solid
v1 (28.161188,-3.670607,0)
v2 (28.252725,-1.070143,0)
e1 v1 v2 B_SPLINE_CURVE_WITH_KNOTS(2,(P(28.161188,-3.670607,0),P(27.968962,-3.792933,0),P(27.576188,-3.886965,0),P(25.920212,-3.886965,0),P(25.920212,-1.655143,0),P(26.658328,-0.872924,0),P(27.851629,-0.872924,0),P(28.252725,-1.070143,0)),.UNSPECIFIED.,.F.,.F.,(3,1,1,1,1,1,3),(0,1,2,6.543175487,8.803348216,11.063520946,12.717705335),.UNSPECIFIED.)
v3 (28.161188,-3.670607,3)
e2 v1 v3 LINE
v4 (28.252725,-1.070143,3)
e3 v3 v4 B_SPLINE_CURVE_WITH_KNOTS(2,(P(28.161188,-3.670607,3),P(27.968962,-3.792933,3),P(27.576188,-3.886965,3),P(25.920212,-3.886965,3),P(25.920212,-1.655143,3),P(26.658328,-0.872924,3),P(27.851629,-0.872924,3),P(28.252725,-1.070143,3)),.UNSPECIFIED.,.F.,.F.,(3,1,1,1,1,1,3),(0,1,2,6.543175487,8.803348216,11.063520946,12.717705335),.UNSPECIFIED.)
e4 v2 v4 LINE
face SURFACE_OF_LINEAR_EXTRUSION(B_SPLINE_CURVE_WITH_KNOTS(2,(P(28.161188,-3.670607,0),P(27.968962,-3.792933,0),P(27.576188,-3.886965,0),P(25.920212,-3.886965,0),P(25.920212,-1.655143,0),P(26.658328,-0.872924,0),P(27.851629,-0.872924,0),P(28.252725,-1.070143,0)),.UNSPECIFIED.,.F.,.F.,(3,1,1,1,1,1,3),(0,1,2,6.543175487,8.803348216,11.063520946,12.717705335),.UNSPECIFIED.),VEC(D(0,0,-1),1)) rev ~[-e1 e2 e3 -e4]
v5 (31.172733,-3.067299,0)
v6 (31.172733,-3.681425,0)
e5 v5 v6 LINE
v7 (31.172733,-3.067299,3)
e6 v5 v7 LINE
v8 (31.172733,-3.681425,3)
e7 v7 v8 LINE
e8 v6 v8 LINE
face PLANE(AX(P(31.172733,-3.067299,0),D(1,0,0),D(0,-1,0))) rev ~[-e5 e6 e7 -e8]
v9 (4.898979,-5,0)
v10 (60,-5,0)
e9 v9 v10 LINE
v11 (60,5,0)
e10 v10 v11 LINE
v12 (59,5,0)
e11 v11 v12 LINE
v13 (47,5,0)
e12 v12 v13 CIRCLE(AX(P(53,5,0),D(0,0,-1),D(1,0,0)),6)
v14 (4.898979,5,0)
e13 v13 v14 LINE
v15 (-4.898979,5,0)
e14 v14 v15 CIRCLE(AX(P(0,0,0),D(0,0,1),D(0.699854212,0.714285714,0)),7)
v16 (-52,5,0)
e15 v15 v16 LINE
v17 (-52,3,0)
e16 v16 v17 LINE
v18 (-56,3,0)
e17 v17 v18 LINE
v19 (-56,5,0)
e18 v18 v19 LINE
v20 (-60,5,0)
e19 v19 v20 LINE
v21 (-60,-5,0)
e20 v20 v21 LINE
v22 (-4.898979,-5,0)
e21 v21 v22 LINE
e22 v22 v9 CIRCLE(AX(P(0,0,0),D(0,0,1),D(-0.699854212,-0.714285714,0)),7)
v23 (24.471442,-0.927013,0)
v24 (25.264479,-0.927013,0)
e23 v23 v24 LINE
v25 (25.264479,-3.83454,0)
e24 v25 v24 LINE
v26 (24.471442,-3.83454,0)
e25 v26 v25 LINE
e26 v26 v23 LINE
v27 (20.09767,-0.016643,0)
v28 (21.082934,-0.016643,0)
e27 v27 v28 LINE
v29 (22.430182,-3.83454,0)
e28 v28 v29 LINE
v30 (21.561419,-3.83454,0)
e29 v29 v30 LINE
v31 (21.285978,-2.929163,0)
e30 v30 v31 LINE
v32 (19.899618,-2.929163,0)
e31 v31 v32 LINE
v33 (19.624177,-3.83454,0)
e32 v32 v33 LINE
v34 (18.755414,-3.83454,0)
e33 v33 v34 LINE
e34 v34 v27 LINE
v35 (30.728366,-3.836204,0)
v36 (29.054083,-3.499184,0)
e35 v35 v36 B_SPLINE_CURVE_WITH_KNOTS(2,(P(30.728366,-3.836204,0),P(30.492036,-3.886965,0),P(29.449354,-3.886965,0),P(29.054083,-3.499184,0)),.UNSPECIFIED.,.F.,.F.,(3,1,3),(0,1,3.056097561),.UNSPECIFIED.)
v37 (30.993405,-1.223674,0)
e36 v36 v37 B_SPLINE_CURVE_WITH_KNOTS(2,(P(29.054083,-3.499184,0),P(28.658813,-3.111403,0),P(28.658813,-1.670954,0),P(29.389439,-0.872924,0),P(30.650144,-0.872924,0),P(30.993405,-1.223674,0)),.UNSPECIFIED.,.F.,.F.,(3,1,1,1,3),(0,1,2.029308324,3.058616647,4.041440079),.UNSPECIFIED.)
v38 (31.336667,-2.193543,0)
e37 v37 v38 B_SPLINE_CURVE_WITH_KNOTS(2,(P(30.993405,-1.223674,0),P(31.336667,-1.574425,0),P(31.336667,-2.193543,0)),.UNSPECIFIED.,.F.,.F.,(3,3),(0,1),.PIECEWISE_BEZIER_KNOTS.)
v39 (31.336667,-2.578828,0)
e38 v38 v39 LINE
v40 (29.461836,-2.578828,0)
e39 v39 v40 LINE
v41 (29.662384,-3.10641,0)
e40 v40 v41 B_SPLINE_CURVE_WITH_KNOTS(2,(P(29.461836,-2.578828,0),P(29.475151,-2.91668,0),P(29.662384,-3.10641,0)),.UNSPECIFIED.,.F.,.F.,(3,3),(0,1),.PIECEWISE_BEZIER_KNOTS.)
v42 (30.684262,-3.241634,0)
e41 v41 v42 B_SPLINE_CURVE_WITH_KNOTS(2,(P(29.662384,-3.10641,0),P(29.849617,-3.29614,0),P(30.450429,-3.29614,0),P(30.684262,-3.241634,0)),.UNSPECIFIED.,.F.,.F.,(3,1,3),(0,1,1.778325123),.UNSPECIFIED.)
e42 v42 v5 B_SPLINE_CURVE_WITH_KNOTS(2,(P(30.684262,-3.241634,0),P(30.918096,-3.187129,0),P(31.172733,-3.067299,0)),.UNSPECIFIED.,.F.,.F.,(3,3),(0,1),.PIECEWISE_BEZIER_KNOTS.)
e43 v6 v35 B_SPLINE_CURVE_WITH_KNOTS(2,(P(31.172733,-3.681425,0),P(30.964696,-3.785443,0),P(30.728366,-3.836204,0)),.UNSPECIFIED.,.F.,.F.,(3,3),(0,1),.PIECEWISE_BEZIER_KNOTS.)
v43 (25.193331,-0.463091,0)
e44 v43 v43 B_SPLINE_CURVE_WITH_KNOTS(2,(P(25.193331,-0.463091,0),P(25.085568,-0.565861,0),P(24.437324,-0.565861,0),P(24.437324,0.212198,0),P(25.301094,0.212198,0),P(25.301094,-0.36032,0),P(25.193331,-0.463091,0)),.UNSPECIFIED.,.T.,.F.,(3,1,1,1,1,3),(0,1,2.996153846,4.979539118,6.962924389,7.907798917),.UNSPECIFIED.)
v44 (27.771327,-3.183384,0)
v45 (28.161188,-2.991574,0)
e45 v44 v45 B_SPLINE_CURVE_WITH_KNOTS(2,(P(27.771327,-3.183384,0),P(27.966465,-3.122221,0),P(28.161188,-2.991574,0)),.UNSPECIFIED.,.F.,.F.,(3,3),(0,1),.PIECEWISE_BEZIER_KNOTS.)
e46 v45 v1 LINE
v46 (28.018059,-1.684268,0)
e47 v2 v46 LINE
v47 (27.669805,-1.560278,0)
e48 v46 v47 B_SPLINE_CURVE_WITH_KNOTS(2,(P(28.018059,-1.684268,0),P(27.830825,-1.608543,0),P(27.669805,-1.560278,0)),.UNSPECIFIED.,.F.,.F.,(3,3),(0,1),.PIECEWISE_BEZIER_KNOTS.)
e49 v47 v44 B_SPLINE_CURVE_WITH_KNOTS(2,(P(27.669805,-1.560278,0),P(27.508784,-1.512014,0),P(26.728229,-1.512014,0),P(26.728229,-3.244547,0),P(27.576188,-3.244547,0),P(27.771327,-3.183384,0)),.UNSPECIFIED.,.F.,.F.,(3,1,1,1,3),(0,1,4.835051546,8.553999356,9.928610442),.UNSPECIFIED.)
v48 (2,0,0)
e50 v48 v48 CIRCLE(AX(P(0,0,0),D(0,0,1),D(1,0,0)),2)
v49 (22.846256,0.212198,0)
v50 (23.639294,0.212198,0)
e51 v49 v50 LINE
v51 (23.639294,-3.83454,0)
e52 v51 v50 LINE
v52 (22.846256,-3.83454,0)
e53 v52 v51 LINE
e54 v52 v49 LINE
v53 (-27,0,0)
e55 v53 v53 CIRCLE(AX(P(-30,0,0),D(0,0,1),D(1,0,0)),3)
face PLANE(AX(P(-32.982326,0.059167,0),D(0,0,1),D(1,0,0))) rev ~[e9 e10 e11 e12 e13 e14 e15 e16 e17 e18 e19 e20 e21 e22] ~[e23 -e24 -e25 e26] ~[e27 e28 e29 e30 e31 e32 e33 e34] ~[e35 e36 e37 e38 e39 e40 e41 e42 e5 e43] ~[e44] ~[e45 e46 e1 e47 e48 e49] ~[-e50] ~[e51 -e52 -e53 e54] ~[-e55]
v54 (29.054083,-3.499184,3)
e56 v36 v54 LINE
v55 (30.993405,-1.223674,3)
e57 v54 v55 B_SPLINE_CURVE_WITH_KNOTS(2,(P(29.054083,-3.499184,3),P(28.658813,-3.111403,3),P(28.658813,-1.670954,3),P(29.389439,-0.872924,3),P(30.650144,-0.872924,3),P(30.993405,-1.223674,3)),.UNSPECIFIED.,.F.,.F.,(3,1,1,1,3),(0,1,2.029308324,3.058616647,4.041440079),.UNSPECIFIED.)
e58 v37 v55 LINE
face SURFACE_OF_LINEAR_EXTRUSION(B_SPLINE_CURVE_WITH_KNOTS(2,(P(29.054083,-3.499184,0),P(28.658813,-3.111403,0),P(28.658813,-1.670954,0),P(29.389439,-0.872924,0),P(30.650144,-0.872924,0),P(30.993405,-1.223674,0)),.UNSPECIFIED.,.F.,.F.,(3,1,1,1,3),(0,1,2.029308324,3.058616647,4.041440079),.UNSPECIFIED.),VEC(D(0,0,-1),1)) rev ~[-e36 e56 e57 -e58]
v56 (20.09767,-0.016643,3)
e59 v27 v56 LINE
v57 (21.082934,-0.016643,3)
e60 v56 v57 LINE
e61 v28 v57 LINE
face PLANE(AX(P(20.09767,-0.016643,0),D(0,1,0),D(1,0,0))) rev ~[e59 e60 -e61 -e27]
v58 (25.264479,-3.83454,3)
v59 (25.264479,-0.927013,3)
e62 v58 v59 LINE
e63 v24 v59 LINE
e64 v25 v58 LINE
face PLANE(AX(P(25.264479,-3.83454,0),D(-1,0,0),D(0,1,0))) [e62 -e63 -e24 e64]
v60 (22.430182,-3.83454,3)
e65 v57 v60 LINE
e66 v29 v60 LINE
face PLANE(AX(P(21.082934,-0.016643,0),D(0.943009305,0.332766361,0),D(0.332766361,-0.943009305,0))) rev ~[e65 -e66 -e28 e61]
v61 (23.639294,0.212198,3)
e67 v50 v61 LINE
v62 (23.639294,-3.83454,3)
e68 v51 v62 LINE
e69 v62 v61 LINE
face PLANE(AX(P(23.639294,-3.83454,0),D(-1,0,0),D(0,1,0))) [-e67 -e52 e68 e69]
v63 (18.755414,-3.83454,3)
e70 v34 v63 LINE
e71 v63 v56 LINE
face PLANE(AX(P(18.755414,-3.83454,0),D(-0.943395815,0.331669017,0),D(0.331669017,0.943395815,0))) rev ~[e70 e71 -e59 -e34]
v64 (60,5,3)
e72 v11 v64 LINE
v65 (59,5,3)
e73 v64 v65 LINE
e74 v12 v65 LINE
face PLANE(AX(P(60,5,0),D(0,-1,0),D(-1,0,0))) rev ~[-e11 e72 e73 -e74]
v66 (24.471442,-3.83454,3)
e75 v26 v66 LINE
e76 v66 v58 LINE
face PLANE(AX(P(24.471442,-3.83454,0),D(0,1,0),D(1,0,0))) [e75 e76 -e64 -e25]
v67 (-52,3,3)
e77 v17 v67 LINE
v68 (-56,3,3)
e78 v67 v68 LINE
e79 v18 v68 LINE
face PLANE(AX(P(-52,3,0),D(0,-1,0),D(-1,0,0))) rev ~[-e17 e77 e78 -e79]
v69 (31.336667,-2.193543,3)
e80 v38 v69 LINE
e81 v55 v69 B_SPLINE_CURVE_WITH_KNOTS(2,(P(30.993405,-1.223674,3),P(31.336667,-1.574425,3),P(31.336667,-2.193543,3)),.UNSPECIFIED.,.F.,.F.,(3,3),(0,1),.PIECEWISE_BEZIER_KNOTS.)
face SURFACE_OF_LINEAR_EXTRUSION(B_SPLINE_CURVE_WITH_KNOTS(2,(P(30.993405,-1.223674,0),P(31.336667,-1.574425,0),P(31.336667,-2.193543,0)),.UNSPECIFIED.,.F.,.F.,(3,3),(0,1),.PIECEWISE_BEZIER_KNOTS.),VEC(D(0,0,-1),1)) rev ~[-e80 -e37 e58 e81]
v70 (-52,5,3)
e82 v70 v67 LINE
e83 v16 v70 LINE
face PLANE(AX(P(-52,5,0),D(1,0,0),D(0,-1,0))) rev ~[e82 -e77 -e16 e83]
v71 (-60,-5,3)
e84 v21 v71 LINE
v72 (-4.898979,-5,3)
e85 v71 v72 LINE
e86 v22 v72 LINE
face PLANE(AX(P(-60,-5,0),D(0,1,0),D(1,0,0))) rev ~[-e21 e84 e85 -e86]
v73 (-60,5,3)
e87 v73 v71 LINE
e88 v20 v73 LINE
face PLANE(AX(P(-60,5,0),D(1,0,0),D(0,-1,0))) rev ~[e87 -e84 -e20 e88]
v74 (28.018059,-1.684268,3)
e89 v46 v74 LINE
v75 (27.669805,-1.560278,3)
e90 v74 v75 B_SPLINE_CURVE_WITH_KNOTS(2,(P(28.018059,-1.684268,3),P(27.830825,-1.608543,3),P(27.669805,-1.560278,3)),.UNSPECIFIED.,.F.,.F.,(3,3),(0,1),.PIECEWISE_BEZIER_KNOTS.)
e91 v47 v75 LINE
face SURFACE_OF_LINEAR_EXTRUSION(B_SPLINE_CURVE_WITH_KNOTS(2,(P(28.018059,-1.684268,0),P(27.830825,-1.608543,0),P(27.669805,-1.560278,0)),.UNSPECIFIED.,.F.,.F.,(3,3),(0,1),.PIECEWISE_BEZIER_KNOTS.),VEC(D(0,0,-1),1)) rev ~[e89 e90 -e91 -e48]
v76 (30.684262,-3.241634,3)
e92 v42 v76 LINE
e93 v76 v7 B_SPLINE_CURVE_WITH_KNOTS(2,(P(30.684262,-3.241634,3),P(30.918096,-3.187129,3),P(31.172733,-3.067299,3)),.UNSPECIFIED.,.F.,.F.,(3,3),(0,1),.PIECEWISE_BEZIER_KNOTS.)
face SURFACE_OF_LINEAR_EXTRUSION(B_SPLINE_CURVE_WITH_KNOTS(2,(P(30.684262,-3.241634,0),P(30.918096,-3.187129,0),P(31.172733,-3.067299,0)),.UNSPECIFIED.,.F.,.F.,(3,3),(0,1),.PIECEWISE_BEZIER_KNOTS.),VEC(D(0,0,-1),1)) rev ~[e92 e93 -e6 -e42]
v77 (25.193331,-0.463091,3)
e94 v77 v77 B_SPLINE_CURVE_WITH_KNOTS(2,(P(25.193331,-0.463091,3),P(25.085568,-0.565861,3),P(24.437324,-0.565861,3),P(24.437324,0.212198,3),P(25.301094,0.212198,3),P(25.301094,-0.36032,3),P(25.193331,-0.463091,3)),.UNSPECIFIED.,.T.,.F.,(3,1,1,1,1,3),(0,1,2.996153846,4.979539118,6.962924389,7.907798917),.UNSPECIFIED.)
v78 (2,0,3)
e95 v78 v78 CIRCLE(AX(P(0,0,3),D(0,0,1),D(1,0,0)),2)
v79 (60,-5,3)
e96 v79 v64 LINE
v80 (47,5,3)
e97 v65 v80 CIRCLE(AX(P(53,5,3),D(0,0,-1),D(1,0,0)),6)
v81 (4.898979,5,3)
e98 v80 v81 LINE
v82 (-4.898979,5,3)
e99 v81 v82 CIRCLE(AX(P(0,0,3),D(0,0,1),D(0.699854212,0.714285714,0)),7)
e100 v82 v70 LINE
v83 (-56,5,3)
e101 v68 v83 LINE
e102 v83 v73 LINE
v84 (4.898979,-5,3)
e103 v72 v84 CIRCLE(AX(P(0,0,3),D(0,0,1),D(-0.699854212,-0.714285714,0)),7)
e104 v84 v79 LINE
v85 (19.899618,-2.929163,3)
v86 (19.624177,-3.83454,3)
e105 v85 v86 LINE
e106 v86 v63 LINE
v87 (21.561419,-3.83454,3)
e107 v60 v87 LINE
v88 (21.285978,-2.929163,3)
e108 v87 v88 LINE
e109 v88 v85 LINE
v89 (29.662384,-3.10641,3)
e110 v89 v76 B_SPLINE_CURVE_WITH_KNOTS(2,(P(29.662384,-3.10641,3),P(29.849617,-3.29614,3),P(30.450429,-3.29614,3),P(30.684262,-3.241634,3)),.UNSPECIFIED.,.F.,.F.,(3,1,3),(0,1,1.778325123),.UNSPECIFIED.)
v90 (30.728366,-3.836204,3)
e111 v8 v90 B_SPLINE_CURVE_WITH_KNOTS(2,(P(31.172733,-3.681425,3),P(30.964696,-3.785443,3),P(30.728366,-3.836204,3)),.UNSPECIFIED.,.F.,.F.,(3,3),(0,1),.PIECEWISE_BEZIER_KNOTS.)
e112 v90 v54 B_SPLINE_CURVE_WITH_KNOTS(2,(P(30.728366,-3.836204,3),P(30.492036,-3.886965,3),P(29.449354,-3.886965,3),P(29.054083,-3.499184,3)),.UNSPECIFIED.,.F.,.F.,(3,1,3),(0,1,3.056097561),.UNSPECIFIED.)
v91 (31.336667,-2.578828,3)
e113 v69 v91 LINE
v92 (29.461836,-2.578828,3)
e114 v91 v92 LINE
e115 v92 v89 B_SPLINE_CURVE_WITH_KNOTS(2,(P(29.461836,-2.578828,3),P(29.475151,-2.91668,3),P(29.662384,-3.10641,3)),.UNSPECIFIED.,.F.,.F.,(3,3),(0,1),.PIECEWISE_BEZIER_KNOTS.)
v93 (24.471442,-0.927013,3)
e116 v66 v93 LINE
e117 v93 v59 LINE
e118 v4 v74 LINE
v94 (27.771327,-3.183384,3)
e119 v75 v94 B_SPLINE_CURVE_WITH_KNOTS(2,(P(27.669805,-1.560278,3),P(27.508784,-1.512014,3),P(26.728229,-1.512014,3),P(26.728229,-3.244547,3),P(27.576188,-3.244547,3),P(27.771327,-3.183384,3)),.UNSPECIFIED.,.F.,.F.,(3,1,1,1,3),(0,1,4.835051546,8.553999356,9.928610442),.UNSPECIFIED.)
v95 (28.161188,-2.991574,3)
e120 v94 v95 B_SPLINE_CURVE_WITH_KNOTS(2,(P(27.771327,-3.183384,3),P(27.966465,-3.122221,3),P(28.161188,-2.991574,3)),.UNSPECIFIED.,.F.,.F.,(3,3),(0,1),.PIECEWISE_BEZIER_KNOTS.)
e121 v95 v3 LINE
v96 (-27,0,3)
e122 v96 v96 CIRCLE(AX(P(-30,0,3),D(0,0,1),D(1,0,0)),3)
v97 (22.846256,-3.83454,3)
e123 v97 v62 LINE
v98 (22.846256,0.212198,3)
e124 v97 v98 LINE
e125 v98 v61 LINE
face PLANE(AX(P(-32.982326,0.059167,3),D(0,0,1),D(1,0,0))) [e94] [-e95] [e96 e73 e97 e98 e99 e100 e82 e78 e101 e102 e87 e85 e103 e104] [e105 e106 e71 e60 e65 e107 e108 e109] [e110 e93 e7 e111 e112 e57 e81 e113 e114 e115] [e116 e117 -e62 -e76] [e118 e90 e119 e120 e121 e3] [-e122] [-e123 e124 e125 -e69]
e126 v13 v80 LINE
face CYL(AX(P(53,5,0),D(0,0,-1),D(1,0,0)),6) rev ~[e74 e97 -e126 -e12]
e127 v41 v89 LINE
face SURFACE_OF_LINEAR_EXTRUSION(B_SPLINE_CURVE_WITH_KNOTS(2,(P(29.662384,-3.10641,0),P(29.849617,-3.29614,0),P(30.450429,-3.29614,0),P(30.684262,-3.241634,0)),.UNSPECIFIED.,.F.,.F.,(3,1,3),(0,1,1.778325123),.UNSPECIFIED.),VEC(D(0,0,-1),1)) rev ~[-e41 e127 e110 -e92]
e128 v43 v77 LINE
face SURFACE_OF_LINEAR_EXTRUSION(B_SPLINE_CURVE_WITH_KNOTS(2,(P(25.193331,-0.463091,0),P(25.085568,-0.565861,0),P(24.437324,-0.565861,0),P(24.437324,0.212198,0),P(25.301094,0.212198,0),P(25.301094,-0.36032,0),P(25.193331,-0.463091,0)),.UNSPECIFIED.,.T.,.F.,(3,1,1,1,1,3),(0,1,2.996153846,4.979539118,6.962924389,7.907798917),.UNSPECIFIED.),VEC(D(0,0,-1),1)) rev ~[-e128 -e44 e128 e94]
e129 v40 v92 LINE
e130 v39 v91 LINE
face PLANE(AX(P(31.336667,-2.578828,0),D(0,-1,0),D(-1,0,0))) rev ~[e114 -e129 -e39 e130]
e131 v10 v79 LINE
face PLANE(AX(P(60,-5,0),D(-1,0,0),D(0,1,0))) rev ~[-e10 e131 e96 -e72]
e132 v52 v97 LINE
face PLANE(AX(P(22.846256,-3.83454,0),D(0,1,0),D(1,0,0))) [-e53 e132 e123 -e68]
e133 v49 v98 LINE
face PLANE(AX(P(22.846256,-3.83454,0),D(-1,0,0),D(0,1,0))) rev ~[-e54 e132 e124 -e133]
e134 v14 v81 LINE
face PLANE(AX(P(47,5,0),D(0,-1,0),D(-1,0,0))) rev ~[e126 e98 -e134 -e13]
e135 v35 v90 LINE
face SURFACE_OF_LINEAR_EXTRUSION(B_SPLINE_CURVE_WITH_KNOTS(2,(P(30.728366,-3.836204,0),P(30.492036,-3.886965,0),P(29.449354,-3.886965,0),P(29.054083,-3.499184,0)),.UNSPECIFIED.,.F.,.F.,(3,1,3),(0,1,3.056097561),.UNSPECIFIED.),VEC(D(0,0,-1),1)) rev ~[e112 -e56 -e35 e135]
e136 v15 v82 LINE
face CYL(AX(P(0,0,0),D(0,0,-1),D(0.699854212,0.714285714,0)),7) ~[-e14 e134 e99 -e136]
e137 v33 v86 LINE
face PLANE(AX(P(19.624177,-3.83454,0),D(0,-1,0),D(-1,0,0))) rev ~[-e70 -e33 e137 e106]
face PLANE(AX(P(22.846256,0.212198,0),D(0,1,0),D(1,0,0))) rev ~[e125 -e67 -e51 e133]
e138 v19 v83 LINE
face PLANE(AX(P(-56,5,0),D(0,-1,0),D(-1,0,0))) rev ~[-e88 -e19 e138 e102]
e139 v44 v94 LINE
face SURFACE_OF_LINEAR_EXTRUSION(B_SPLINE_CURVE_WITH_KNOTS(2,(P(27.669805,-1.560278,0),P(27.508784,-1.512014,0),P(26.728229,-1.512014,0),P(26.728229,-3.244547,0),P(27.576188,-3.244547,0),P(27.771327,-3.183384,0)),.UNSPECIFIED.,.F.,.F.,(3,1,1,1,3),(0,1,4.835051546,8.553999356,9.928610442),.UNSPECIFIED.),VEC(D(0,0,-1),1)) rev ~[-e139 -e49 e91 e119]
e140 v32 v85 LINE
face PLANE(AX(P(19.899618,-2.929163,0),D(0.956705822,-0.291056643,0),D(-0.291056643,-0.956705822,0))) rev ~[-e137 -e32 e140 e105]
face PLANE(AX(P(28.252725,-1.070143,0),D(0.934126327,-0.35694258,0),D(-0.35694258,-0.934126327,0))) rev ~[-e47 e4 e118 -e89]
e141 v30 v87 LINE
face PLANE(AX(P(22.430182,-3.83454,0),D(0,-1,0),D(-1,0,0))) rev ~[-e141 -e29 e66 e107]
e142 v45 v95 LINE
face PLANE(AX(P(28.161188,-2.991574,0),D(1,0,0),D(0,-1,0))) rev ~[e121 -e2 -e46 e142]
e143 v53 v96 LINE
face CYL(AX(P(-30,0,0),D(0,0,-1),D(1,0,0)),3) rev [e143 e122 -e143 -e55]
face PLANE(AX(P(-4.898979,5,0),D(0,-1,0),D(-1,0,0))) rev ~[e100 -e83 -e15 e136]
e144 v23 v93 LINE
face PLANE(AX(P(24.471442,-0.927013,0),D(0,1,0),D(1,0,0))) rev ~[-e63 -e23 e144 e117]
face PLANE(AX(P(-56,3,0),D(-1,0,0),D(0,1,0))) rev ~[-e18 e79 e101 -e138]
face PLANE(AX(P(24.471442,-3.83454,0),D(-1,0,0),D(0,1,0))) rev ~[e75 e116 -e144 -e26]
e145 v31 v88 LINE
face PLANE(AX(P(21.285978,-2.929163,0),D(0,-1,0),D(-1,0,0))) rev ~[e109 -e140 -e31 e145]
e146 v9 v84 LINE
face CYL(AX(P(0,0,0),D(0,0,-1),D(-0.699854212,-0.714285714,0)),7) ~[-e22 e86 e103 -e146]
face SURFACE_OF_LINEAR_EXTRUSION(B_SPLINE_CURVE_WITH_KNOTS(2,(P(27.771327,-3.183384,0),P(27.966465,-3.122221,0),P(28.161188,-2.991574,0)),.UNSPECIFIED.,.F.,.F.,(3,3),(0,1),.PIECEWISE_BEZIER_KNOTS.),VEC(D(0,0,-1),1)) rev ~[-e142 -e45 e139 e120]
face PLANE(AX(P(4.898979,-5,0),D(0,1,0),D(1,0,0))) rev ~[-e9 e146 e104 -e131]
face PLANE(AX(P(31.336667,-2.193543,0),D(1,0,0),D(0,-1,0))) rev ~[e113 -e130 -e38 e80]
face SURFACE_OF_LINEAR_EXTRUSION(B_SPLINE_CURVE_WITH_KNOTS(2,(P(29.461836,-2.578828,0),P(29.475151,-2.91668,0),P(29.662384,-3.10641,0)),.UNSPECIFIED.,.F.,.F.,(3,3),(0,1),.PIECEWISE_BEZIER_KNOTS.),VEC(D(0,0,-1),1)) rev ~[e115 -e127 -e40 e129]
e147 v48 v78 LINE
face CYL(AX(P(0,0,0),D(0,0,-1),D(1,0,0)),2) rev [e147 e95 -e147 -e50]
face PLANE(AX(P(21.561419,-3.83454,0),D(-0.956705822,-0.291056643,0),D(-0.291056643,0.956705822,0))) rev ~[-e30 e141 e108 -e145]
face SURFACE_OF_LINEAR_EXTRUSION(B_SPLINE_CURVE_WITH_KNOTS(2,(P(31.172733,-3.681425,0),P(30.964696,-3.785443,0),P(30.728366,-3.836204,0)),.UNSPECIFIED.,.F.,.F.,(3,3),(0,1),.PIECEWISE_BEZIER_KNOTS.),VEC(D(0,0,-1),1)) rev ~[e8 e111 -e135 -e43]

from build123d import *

# Parameters (mm, degrees)
F0_R     = 3
F0_W     = 0.793037466
F0_H     = 2.9075266591
F0_H_2   = 4.0467378773
F0_R_2   = 2
F1_DEPTH = 3


with BuildPart() as f1:
    # F0 (on Top) → F1 (new body)
    with BuildSketch(Plane.XY):
        with BuildLine():
            Line((-60, 5), (-60, -5))
            Line((-60, -5), (-4.8989794856, -5))
            ThreePointArc((-4.8989794856, -5), (-7, 0), (-4.8989794856, 5))
            Line((-4.8989794856, 5), (-52, 5))
            Line((-52, 5), (-52, 3))
            Line((-52, 3), (-56, 3))
            Line((-56, 3), (-56, 5))
            Line((-56, 5), (-60, 5))
        make_face()
        with Locations((-30, 0)):
            Circle(F0_R, mode=Mode.SUBTRACT)
        with BuildLine():
            ThreePointArc((7, 0), (6.4534043883, -2.7117470016), (4.8989794856, -5))
            Line((4.8989794856, -5), (60, -5))
            Line((60, -5), (60, 5))
            Line((60, 5), (59, 5))
            ThreePointArc((59, 5), (53, -1), (47, 5))
            Line((47, 5), (4.8989794856, 5))
            ThreePointArc((4.8989794856, 5), (6.4534043883, 2.7117470016), (7, 0))
        make_face()
        Polygon((22.4301818638, -3.8345400244), (21.5614188895, -3.8345400244), (21.2859777549, -2.9291625186), (19.8996184492, -2.9291625186), (19.6241773147, -3.8345400244), (18.7554143404, -3.8345400244), (20.0976697786, -0.0166429689), (21.0829335349, -0.0166429689), align=None, mode=Mode.SUBTRACT)
        with Locations((24.8679607269, -2.3807766948)):
            Rectangle(F0_W, F0_H, mode=Mode.SUBTRACT)
        with BuildLine():
            add(Edge.make_bspline(
                [(27.7725748665, -3.8399489893), (27.576187834, -3.8869653763), (27.277446543, -3.8869653763)],
                knots=[0, 0, 0, 1, 1, 1], degree=2))
            add(Edge.make_bspline(
                [(27.277446543, -3.8869653763), (25.9202124328, -3.8869653763), (25.9202124328, -2.3965875152)],
                knots=[0, 0, 0, 1, 1, 1], degree=2))
            add(Edge.make_bspline(
                [(25.9202124328, -2.3965875152), (25.9202124328, -1.6551432527), (26.2892702672, -1.2640334846)],
                knots=[0, 0, 0, 1, 1, 1], degree=2))
            add(Edge.make_bspline(
                [(26.2892702672, -1.2640334846), (26.6583281016, -0.8729237165), (27.3473470122, -0.8729237165)],
                knots=[0, 0, 0, 1, 1, 1], degree=2))
            add(Edge.make_bspline(
                [(27.3473470122, -0.8729237165), (27.8516289686, -0.8729237165), (28.252724518, -1.0701428974)],
                knots=[0, 0, 0, 1, 1, 1], degree=2))
            Line((28.252724518, -1.0701428974), (28.0180586571, -1.6842684482))
            add(Edge.make_bspline(
                [(28.0180586571, -1.6842684482), (27.8308252575, -1.6085429399), (27.6698045338, -1.5602783302)],
                knots=[0, 0, 0, 1, 1, 1], degree=2))
            add(Edge.make_bspline(
                [(27.6698045338, -1.5602783302), (27.5087838101, -1.5120137206), (27.3473470122, -1.5120137206)],
                knots=[0, 0, 0, 1, 1, 1], degree=2))
            add(Edge.make_bspline(
                [(27.3473470122, -1.5120137206), (26.7282285708, -1.5120137206), (26.7282285708, -2.3915946246)],
                knots=[0, 0, 0, 1, 1, 1], degree=2))
            add(Edge.make_bspline(
                [(26.7282285708, -2.3915946246), (26.7282285708, -3.2445467785), (27.3473470122, -3.2445467785)],
                knots=[0, 0, 0, 1, 1, 1], degree=2))
            add(Edge.make_bspline(
                [(27.3473470122, -3.2445467785), (27.576187834, -3.2445467785), (27.7713266438, -3.1833838679)],
                knots=[0, 0, 0, 1, 1, 1], degree=2))
            add(Edge.make_bspline(
                [(27.7713266438, -3.1833838679), (27.9664654537, -3.1222209574), (28.1611881893, -2.9915736518)],
                knots=[0, 0, 0, 1, 1, 1], degree=2))
            Line((28.1611881893, -2.9915736518), (28.1611881893, -3.6706067812))
            add(Edge.make_bspline(
                [(28.1611881893, -3.6706067812), (27.968961899, -3.7929326023), (27.7725748665, -3.8399489893)],
                knots=[0, 0, 0, 1, 1, 1], degree=2))
        make_face(mode=Mode.SUBTRACT)
        with BuildLine():
            add(Edge.make_bspline(
                [(30.7283661353, -3.8362043213), (30.4920359776, -3.8869653763), (30.150855116, -3.8869653763)],
                knots=[0, 0, 0, 1, 1, 1], degree=2))
            add(Edge.make_bspline(
                [(30.150855116, -3.8869653763), (29.4493539787, -3.8869653763), (29.0540834684, -3.499184202)],
                knots=[0, 0, 0, 1, 1, 1], degree=2))
            add(Edge.make_bspline(
                [(29.0540834684, -3.499184202), (28.6588129581, -3.1114030276), (28.6588129581, -2.4015804059)],
                knots=[0, 0, 0, 1, 1, 1], degree=2))
            add(Edge.make_bspline(
                [(28.6588129581, -2.4015804059), (28.6588129581, -1.6709540731), (29.0241261245, -1.2719388948)],
                knots=[0, 0, 0, 1, 1, 1], degree=2))
            add(Edge.make_bspline(
                [(29.0241261245, -1.2719388948), (29.3894392909, -0.8729237165), (30.034354334, -0.8729237165)],
                knots=[0, 0, 0, 1, 1, 1], degree=2))
            add(Edge.make_bspline(
                [(30.034354334, -0.8729237165), (30.6501441817, -0.8729237165), (30.9934054143, -1.2236742851)],
                knots=[0, 0, 0, 1, 1, 1], degree=2))
            add(Edge.make_bspline(
                [(30.9934054143, -1.2236742851), (31.336666647, -1.5744248538), (31.336666647, -2.1935432952)],
                knots=[0, 0, 0, 1, 1, 1], degree=2))
            Line((31.336666647, -2.1935432952), (31.336666647, -2.5788280242))
            Line((31.336666647, -2.5788280242), (29.4618362054, -2.5788280242))
            add(Edge.make_bspline(
                [(29.4618362054, -2.5788280242), (29.4751505805, -2.916680292), (29.6623839801, -3.106410137)],
                knots=[0, 0, 0, 1, 1, 1], degree=2))
            add(Edge.make_bspline(
                [(29.6623839801, -3.106410137), (29.8496173797, -3.2961399819), (30.1874696475, -3.2961399819)],
                knots=[0, 0, 0, 1, 1, 1], degree=2))
            add(Edge.make_bspline(
                [(30.1874696475, -3.2961399819), (30.4504285554, -3.2961399819), (30.6842622678, -3.2416342589)],
                knots=[0, 0, 0, 1, 1, 1], degree=2))
            add(Edge.make_bspline(
                [(30.6842622678, -3.2416342589), (30.9180959803, -3.1871285359), (31.1727334038, -3.0672991601)],
                knots=[0, 0, 0, 1, 1, 1], degree=2))
            Line((31.1727334038, -3.0672991601), (31.1727334038, -3.6814247109))
            add(Edge.make_bspline(
                [(31.1727334038, -3.6814247109), (30.9646962931, -3.7854432663), (30.7283661353, -3.8362043213)],
                knots=[0, 0, 0, 1, 1, 1], degree=2))
        make_face(mode=Mode.SUBTRACT)
        with Locations((23.2427748181, -1.8111710857)):
            Rectangle(F0_W, F0_H_2, mode=Mode.SUBTRACT)
        with BuildLine():
            add(Edge.make_bspline(
                [(24.8692089496, -0.5658609411), (24.4373239078, -0.5658609411), (24.4373239078, -0.1755833214)],
                knots=[0, 0, 0, 1, 1, 1], degree=2))
            add(Edge.make_bspline(
                [(24.4373239078, -0.1755833214), (24.4373239078, 0.2121978529), (24.8692089496, 0.2121978529)],
                knots=[0, 0, 0, 1, 1, 1], degree=2))
            add(Edge.make_bspline(
                [(24.8692089496, 0.2121978529), (25.3010939914, 0.2121978529), (25.3010939914, -0.1755833214)],
                knots=[0, 0, 0, 1, 1, 1], degree=2))
            add(Edge.make_bspline(
                [(25.3010939914, -0.1755833214), (25.3010939914, -0.3603202757), (25.1933307681, -0.4630906084)],
                knots=[0, 0, 0, 1, 1, 1], degree=2))
            add(Edge.make_bspline(
                [(25.1933307681, -0.4630906084), (25.0855675447, -0.5658609411), (24.8692089496, -0.5658609411)],
                knots=[0, 0, 0, 1, 1, 1], degree=2))
        make_face(mode=Mode.SUBTRACT)
        with BuildLine():
            Line((4.8989794856, -5), (-4.8989794856, -5))
            ThreePointArc((-4.8989794856, -5), (0, -7), (4.8989794856, -5))
        make_face()
        with BuildLine():
            ThreePointArc((-4.8989794856, 5), (-7, 0), (-4.8989794856, -5))
            Line((-4.8989794856, -5), (4.8989794856, -5))
            ThreePointArc((4.8989794856, -5), (6.4534043883, -2.7117470016), (7, 0))
            ThreePointArc((7, 0), (6.4534043883, 2.7117470016), (4.8989794856, 5))
            Line((4.8989794856, 5), (-4.8989794856, 5))
        make_face()
        Circle(F0_R_2, mode=Mode.SUBTRACT)
        with BuildLine():
            ThreePointArc((4.8989794856, 5), (0, 7), (-4.8989794856, 5))
            Line((-4.8989794856, 5), (4.8989794856, 5))
        make_face()
    extrude(amount=F1_DEPTH)


solid = f1.part
